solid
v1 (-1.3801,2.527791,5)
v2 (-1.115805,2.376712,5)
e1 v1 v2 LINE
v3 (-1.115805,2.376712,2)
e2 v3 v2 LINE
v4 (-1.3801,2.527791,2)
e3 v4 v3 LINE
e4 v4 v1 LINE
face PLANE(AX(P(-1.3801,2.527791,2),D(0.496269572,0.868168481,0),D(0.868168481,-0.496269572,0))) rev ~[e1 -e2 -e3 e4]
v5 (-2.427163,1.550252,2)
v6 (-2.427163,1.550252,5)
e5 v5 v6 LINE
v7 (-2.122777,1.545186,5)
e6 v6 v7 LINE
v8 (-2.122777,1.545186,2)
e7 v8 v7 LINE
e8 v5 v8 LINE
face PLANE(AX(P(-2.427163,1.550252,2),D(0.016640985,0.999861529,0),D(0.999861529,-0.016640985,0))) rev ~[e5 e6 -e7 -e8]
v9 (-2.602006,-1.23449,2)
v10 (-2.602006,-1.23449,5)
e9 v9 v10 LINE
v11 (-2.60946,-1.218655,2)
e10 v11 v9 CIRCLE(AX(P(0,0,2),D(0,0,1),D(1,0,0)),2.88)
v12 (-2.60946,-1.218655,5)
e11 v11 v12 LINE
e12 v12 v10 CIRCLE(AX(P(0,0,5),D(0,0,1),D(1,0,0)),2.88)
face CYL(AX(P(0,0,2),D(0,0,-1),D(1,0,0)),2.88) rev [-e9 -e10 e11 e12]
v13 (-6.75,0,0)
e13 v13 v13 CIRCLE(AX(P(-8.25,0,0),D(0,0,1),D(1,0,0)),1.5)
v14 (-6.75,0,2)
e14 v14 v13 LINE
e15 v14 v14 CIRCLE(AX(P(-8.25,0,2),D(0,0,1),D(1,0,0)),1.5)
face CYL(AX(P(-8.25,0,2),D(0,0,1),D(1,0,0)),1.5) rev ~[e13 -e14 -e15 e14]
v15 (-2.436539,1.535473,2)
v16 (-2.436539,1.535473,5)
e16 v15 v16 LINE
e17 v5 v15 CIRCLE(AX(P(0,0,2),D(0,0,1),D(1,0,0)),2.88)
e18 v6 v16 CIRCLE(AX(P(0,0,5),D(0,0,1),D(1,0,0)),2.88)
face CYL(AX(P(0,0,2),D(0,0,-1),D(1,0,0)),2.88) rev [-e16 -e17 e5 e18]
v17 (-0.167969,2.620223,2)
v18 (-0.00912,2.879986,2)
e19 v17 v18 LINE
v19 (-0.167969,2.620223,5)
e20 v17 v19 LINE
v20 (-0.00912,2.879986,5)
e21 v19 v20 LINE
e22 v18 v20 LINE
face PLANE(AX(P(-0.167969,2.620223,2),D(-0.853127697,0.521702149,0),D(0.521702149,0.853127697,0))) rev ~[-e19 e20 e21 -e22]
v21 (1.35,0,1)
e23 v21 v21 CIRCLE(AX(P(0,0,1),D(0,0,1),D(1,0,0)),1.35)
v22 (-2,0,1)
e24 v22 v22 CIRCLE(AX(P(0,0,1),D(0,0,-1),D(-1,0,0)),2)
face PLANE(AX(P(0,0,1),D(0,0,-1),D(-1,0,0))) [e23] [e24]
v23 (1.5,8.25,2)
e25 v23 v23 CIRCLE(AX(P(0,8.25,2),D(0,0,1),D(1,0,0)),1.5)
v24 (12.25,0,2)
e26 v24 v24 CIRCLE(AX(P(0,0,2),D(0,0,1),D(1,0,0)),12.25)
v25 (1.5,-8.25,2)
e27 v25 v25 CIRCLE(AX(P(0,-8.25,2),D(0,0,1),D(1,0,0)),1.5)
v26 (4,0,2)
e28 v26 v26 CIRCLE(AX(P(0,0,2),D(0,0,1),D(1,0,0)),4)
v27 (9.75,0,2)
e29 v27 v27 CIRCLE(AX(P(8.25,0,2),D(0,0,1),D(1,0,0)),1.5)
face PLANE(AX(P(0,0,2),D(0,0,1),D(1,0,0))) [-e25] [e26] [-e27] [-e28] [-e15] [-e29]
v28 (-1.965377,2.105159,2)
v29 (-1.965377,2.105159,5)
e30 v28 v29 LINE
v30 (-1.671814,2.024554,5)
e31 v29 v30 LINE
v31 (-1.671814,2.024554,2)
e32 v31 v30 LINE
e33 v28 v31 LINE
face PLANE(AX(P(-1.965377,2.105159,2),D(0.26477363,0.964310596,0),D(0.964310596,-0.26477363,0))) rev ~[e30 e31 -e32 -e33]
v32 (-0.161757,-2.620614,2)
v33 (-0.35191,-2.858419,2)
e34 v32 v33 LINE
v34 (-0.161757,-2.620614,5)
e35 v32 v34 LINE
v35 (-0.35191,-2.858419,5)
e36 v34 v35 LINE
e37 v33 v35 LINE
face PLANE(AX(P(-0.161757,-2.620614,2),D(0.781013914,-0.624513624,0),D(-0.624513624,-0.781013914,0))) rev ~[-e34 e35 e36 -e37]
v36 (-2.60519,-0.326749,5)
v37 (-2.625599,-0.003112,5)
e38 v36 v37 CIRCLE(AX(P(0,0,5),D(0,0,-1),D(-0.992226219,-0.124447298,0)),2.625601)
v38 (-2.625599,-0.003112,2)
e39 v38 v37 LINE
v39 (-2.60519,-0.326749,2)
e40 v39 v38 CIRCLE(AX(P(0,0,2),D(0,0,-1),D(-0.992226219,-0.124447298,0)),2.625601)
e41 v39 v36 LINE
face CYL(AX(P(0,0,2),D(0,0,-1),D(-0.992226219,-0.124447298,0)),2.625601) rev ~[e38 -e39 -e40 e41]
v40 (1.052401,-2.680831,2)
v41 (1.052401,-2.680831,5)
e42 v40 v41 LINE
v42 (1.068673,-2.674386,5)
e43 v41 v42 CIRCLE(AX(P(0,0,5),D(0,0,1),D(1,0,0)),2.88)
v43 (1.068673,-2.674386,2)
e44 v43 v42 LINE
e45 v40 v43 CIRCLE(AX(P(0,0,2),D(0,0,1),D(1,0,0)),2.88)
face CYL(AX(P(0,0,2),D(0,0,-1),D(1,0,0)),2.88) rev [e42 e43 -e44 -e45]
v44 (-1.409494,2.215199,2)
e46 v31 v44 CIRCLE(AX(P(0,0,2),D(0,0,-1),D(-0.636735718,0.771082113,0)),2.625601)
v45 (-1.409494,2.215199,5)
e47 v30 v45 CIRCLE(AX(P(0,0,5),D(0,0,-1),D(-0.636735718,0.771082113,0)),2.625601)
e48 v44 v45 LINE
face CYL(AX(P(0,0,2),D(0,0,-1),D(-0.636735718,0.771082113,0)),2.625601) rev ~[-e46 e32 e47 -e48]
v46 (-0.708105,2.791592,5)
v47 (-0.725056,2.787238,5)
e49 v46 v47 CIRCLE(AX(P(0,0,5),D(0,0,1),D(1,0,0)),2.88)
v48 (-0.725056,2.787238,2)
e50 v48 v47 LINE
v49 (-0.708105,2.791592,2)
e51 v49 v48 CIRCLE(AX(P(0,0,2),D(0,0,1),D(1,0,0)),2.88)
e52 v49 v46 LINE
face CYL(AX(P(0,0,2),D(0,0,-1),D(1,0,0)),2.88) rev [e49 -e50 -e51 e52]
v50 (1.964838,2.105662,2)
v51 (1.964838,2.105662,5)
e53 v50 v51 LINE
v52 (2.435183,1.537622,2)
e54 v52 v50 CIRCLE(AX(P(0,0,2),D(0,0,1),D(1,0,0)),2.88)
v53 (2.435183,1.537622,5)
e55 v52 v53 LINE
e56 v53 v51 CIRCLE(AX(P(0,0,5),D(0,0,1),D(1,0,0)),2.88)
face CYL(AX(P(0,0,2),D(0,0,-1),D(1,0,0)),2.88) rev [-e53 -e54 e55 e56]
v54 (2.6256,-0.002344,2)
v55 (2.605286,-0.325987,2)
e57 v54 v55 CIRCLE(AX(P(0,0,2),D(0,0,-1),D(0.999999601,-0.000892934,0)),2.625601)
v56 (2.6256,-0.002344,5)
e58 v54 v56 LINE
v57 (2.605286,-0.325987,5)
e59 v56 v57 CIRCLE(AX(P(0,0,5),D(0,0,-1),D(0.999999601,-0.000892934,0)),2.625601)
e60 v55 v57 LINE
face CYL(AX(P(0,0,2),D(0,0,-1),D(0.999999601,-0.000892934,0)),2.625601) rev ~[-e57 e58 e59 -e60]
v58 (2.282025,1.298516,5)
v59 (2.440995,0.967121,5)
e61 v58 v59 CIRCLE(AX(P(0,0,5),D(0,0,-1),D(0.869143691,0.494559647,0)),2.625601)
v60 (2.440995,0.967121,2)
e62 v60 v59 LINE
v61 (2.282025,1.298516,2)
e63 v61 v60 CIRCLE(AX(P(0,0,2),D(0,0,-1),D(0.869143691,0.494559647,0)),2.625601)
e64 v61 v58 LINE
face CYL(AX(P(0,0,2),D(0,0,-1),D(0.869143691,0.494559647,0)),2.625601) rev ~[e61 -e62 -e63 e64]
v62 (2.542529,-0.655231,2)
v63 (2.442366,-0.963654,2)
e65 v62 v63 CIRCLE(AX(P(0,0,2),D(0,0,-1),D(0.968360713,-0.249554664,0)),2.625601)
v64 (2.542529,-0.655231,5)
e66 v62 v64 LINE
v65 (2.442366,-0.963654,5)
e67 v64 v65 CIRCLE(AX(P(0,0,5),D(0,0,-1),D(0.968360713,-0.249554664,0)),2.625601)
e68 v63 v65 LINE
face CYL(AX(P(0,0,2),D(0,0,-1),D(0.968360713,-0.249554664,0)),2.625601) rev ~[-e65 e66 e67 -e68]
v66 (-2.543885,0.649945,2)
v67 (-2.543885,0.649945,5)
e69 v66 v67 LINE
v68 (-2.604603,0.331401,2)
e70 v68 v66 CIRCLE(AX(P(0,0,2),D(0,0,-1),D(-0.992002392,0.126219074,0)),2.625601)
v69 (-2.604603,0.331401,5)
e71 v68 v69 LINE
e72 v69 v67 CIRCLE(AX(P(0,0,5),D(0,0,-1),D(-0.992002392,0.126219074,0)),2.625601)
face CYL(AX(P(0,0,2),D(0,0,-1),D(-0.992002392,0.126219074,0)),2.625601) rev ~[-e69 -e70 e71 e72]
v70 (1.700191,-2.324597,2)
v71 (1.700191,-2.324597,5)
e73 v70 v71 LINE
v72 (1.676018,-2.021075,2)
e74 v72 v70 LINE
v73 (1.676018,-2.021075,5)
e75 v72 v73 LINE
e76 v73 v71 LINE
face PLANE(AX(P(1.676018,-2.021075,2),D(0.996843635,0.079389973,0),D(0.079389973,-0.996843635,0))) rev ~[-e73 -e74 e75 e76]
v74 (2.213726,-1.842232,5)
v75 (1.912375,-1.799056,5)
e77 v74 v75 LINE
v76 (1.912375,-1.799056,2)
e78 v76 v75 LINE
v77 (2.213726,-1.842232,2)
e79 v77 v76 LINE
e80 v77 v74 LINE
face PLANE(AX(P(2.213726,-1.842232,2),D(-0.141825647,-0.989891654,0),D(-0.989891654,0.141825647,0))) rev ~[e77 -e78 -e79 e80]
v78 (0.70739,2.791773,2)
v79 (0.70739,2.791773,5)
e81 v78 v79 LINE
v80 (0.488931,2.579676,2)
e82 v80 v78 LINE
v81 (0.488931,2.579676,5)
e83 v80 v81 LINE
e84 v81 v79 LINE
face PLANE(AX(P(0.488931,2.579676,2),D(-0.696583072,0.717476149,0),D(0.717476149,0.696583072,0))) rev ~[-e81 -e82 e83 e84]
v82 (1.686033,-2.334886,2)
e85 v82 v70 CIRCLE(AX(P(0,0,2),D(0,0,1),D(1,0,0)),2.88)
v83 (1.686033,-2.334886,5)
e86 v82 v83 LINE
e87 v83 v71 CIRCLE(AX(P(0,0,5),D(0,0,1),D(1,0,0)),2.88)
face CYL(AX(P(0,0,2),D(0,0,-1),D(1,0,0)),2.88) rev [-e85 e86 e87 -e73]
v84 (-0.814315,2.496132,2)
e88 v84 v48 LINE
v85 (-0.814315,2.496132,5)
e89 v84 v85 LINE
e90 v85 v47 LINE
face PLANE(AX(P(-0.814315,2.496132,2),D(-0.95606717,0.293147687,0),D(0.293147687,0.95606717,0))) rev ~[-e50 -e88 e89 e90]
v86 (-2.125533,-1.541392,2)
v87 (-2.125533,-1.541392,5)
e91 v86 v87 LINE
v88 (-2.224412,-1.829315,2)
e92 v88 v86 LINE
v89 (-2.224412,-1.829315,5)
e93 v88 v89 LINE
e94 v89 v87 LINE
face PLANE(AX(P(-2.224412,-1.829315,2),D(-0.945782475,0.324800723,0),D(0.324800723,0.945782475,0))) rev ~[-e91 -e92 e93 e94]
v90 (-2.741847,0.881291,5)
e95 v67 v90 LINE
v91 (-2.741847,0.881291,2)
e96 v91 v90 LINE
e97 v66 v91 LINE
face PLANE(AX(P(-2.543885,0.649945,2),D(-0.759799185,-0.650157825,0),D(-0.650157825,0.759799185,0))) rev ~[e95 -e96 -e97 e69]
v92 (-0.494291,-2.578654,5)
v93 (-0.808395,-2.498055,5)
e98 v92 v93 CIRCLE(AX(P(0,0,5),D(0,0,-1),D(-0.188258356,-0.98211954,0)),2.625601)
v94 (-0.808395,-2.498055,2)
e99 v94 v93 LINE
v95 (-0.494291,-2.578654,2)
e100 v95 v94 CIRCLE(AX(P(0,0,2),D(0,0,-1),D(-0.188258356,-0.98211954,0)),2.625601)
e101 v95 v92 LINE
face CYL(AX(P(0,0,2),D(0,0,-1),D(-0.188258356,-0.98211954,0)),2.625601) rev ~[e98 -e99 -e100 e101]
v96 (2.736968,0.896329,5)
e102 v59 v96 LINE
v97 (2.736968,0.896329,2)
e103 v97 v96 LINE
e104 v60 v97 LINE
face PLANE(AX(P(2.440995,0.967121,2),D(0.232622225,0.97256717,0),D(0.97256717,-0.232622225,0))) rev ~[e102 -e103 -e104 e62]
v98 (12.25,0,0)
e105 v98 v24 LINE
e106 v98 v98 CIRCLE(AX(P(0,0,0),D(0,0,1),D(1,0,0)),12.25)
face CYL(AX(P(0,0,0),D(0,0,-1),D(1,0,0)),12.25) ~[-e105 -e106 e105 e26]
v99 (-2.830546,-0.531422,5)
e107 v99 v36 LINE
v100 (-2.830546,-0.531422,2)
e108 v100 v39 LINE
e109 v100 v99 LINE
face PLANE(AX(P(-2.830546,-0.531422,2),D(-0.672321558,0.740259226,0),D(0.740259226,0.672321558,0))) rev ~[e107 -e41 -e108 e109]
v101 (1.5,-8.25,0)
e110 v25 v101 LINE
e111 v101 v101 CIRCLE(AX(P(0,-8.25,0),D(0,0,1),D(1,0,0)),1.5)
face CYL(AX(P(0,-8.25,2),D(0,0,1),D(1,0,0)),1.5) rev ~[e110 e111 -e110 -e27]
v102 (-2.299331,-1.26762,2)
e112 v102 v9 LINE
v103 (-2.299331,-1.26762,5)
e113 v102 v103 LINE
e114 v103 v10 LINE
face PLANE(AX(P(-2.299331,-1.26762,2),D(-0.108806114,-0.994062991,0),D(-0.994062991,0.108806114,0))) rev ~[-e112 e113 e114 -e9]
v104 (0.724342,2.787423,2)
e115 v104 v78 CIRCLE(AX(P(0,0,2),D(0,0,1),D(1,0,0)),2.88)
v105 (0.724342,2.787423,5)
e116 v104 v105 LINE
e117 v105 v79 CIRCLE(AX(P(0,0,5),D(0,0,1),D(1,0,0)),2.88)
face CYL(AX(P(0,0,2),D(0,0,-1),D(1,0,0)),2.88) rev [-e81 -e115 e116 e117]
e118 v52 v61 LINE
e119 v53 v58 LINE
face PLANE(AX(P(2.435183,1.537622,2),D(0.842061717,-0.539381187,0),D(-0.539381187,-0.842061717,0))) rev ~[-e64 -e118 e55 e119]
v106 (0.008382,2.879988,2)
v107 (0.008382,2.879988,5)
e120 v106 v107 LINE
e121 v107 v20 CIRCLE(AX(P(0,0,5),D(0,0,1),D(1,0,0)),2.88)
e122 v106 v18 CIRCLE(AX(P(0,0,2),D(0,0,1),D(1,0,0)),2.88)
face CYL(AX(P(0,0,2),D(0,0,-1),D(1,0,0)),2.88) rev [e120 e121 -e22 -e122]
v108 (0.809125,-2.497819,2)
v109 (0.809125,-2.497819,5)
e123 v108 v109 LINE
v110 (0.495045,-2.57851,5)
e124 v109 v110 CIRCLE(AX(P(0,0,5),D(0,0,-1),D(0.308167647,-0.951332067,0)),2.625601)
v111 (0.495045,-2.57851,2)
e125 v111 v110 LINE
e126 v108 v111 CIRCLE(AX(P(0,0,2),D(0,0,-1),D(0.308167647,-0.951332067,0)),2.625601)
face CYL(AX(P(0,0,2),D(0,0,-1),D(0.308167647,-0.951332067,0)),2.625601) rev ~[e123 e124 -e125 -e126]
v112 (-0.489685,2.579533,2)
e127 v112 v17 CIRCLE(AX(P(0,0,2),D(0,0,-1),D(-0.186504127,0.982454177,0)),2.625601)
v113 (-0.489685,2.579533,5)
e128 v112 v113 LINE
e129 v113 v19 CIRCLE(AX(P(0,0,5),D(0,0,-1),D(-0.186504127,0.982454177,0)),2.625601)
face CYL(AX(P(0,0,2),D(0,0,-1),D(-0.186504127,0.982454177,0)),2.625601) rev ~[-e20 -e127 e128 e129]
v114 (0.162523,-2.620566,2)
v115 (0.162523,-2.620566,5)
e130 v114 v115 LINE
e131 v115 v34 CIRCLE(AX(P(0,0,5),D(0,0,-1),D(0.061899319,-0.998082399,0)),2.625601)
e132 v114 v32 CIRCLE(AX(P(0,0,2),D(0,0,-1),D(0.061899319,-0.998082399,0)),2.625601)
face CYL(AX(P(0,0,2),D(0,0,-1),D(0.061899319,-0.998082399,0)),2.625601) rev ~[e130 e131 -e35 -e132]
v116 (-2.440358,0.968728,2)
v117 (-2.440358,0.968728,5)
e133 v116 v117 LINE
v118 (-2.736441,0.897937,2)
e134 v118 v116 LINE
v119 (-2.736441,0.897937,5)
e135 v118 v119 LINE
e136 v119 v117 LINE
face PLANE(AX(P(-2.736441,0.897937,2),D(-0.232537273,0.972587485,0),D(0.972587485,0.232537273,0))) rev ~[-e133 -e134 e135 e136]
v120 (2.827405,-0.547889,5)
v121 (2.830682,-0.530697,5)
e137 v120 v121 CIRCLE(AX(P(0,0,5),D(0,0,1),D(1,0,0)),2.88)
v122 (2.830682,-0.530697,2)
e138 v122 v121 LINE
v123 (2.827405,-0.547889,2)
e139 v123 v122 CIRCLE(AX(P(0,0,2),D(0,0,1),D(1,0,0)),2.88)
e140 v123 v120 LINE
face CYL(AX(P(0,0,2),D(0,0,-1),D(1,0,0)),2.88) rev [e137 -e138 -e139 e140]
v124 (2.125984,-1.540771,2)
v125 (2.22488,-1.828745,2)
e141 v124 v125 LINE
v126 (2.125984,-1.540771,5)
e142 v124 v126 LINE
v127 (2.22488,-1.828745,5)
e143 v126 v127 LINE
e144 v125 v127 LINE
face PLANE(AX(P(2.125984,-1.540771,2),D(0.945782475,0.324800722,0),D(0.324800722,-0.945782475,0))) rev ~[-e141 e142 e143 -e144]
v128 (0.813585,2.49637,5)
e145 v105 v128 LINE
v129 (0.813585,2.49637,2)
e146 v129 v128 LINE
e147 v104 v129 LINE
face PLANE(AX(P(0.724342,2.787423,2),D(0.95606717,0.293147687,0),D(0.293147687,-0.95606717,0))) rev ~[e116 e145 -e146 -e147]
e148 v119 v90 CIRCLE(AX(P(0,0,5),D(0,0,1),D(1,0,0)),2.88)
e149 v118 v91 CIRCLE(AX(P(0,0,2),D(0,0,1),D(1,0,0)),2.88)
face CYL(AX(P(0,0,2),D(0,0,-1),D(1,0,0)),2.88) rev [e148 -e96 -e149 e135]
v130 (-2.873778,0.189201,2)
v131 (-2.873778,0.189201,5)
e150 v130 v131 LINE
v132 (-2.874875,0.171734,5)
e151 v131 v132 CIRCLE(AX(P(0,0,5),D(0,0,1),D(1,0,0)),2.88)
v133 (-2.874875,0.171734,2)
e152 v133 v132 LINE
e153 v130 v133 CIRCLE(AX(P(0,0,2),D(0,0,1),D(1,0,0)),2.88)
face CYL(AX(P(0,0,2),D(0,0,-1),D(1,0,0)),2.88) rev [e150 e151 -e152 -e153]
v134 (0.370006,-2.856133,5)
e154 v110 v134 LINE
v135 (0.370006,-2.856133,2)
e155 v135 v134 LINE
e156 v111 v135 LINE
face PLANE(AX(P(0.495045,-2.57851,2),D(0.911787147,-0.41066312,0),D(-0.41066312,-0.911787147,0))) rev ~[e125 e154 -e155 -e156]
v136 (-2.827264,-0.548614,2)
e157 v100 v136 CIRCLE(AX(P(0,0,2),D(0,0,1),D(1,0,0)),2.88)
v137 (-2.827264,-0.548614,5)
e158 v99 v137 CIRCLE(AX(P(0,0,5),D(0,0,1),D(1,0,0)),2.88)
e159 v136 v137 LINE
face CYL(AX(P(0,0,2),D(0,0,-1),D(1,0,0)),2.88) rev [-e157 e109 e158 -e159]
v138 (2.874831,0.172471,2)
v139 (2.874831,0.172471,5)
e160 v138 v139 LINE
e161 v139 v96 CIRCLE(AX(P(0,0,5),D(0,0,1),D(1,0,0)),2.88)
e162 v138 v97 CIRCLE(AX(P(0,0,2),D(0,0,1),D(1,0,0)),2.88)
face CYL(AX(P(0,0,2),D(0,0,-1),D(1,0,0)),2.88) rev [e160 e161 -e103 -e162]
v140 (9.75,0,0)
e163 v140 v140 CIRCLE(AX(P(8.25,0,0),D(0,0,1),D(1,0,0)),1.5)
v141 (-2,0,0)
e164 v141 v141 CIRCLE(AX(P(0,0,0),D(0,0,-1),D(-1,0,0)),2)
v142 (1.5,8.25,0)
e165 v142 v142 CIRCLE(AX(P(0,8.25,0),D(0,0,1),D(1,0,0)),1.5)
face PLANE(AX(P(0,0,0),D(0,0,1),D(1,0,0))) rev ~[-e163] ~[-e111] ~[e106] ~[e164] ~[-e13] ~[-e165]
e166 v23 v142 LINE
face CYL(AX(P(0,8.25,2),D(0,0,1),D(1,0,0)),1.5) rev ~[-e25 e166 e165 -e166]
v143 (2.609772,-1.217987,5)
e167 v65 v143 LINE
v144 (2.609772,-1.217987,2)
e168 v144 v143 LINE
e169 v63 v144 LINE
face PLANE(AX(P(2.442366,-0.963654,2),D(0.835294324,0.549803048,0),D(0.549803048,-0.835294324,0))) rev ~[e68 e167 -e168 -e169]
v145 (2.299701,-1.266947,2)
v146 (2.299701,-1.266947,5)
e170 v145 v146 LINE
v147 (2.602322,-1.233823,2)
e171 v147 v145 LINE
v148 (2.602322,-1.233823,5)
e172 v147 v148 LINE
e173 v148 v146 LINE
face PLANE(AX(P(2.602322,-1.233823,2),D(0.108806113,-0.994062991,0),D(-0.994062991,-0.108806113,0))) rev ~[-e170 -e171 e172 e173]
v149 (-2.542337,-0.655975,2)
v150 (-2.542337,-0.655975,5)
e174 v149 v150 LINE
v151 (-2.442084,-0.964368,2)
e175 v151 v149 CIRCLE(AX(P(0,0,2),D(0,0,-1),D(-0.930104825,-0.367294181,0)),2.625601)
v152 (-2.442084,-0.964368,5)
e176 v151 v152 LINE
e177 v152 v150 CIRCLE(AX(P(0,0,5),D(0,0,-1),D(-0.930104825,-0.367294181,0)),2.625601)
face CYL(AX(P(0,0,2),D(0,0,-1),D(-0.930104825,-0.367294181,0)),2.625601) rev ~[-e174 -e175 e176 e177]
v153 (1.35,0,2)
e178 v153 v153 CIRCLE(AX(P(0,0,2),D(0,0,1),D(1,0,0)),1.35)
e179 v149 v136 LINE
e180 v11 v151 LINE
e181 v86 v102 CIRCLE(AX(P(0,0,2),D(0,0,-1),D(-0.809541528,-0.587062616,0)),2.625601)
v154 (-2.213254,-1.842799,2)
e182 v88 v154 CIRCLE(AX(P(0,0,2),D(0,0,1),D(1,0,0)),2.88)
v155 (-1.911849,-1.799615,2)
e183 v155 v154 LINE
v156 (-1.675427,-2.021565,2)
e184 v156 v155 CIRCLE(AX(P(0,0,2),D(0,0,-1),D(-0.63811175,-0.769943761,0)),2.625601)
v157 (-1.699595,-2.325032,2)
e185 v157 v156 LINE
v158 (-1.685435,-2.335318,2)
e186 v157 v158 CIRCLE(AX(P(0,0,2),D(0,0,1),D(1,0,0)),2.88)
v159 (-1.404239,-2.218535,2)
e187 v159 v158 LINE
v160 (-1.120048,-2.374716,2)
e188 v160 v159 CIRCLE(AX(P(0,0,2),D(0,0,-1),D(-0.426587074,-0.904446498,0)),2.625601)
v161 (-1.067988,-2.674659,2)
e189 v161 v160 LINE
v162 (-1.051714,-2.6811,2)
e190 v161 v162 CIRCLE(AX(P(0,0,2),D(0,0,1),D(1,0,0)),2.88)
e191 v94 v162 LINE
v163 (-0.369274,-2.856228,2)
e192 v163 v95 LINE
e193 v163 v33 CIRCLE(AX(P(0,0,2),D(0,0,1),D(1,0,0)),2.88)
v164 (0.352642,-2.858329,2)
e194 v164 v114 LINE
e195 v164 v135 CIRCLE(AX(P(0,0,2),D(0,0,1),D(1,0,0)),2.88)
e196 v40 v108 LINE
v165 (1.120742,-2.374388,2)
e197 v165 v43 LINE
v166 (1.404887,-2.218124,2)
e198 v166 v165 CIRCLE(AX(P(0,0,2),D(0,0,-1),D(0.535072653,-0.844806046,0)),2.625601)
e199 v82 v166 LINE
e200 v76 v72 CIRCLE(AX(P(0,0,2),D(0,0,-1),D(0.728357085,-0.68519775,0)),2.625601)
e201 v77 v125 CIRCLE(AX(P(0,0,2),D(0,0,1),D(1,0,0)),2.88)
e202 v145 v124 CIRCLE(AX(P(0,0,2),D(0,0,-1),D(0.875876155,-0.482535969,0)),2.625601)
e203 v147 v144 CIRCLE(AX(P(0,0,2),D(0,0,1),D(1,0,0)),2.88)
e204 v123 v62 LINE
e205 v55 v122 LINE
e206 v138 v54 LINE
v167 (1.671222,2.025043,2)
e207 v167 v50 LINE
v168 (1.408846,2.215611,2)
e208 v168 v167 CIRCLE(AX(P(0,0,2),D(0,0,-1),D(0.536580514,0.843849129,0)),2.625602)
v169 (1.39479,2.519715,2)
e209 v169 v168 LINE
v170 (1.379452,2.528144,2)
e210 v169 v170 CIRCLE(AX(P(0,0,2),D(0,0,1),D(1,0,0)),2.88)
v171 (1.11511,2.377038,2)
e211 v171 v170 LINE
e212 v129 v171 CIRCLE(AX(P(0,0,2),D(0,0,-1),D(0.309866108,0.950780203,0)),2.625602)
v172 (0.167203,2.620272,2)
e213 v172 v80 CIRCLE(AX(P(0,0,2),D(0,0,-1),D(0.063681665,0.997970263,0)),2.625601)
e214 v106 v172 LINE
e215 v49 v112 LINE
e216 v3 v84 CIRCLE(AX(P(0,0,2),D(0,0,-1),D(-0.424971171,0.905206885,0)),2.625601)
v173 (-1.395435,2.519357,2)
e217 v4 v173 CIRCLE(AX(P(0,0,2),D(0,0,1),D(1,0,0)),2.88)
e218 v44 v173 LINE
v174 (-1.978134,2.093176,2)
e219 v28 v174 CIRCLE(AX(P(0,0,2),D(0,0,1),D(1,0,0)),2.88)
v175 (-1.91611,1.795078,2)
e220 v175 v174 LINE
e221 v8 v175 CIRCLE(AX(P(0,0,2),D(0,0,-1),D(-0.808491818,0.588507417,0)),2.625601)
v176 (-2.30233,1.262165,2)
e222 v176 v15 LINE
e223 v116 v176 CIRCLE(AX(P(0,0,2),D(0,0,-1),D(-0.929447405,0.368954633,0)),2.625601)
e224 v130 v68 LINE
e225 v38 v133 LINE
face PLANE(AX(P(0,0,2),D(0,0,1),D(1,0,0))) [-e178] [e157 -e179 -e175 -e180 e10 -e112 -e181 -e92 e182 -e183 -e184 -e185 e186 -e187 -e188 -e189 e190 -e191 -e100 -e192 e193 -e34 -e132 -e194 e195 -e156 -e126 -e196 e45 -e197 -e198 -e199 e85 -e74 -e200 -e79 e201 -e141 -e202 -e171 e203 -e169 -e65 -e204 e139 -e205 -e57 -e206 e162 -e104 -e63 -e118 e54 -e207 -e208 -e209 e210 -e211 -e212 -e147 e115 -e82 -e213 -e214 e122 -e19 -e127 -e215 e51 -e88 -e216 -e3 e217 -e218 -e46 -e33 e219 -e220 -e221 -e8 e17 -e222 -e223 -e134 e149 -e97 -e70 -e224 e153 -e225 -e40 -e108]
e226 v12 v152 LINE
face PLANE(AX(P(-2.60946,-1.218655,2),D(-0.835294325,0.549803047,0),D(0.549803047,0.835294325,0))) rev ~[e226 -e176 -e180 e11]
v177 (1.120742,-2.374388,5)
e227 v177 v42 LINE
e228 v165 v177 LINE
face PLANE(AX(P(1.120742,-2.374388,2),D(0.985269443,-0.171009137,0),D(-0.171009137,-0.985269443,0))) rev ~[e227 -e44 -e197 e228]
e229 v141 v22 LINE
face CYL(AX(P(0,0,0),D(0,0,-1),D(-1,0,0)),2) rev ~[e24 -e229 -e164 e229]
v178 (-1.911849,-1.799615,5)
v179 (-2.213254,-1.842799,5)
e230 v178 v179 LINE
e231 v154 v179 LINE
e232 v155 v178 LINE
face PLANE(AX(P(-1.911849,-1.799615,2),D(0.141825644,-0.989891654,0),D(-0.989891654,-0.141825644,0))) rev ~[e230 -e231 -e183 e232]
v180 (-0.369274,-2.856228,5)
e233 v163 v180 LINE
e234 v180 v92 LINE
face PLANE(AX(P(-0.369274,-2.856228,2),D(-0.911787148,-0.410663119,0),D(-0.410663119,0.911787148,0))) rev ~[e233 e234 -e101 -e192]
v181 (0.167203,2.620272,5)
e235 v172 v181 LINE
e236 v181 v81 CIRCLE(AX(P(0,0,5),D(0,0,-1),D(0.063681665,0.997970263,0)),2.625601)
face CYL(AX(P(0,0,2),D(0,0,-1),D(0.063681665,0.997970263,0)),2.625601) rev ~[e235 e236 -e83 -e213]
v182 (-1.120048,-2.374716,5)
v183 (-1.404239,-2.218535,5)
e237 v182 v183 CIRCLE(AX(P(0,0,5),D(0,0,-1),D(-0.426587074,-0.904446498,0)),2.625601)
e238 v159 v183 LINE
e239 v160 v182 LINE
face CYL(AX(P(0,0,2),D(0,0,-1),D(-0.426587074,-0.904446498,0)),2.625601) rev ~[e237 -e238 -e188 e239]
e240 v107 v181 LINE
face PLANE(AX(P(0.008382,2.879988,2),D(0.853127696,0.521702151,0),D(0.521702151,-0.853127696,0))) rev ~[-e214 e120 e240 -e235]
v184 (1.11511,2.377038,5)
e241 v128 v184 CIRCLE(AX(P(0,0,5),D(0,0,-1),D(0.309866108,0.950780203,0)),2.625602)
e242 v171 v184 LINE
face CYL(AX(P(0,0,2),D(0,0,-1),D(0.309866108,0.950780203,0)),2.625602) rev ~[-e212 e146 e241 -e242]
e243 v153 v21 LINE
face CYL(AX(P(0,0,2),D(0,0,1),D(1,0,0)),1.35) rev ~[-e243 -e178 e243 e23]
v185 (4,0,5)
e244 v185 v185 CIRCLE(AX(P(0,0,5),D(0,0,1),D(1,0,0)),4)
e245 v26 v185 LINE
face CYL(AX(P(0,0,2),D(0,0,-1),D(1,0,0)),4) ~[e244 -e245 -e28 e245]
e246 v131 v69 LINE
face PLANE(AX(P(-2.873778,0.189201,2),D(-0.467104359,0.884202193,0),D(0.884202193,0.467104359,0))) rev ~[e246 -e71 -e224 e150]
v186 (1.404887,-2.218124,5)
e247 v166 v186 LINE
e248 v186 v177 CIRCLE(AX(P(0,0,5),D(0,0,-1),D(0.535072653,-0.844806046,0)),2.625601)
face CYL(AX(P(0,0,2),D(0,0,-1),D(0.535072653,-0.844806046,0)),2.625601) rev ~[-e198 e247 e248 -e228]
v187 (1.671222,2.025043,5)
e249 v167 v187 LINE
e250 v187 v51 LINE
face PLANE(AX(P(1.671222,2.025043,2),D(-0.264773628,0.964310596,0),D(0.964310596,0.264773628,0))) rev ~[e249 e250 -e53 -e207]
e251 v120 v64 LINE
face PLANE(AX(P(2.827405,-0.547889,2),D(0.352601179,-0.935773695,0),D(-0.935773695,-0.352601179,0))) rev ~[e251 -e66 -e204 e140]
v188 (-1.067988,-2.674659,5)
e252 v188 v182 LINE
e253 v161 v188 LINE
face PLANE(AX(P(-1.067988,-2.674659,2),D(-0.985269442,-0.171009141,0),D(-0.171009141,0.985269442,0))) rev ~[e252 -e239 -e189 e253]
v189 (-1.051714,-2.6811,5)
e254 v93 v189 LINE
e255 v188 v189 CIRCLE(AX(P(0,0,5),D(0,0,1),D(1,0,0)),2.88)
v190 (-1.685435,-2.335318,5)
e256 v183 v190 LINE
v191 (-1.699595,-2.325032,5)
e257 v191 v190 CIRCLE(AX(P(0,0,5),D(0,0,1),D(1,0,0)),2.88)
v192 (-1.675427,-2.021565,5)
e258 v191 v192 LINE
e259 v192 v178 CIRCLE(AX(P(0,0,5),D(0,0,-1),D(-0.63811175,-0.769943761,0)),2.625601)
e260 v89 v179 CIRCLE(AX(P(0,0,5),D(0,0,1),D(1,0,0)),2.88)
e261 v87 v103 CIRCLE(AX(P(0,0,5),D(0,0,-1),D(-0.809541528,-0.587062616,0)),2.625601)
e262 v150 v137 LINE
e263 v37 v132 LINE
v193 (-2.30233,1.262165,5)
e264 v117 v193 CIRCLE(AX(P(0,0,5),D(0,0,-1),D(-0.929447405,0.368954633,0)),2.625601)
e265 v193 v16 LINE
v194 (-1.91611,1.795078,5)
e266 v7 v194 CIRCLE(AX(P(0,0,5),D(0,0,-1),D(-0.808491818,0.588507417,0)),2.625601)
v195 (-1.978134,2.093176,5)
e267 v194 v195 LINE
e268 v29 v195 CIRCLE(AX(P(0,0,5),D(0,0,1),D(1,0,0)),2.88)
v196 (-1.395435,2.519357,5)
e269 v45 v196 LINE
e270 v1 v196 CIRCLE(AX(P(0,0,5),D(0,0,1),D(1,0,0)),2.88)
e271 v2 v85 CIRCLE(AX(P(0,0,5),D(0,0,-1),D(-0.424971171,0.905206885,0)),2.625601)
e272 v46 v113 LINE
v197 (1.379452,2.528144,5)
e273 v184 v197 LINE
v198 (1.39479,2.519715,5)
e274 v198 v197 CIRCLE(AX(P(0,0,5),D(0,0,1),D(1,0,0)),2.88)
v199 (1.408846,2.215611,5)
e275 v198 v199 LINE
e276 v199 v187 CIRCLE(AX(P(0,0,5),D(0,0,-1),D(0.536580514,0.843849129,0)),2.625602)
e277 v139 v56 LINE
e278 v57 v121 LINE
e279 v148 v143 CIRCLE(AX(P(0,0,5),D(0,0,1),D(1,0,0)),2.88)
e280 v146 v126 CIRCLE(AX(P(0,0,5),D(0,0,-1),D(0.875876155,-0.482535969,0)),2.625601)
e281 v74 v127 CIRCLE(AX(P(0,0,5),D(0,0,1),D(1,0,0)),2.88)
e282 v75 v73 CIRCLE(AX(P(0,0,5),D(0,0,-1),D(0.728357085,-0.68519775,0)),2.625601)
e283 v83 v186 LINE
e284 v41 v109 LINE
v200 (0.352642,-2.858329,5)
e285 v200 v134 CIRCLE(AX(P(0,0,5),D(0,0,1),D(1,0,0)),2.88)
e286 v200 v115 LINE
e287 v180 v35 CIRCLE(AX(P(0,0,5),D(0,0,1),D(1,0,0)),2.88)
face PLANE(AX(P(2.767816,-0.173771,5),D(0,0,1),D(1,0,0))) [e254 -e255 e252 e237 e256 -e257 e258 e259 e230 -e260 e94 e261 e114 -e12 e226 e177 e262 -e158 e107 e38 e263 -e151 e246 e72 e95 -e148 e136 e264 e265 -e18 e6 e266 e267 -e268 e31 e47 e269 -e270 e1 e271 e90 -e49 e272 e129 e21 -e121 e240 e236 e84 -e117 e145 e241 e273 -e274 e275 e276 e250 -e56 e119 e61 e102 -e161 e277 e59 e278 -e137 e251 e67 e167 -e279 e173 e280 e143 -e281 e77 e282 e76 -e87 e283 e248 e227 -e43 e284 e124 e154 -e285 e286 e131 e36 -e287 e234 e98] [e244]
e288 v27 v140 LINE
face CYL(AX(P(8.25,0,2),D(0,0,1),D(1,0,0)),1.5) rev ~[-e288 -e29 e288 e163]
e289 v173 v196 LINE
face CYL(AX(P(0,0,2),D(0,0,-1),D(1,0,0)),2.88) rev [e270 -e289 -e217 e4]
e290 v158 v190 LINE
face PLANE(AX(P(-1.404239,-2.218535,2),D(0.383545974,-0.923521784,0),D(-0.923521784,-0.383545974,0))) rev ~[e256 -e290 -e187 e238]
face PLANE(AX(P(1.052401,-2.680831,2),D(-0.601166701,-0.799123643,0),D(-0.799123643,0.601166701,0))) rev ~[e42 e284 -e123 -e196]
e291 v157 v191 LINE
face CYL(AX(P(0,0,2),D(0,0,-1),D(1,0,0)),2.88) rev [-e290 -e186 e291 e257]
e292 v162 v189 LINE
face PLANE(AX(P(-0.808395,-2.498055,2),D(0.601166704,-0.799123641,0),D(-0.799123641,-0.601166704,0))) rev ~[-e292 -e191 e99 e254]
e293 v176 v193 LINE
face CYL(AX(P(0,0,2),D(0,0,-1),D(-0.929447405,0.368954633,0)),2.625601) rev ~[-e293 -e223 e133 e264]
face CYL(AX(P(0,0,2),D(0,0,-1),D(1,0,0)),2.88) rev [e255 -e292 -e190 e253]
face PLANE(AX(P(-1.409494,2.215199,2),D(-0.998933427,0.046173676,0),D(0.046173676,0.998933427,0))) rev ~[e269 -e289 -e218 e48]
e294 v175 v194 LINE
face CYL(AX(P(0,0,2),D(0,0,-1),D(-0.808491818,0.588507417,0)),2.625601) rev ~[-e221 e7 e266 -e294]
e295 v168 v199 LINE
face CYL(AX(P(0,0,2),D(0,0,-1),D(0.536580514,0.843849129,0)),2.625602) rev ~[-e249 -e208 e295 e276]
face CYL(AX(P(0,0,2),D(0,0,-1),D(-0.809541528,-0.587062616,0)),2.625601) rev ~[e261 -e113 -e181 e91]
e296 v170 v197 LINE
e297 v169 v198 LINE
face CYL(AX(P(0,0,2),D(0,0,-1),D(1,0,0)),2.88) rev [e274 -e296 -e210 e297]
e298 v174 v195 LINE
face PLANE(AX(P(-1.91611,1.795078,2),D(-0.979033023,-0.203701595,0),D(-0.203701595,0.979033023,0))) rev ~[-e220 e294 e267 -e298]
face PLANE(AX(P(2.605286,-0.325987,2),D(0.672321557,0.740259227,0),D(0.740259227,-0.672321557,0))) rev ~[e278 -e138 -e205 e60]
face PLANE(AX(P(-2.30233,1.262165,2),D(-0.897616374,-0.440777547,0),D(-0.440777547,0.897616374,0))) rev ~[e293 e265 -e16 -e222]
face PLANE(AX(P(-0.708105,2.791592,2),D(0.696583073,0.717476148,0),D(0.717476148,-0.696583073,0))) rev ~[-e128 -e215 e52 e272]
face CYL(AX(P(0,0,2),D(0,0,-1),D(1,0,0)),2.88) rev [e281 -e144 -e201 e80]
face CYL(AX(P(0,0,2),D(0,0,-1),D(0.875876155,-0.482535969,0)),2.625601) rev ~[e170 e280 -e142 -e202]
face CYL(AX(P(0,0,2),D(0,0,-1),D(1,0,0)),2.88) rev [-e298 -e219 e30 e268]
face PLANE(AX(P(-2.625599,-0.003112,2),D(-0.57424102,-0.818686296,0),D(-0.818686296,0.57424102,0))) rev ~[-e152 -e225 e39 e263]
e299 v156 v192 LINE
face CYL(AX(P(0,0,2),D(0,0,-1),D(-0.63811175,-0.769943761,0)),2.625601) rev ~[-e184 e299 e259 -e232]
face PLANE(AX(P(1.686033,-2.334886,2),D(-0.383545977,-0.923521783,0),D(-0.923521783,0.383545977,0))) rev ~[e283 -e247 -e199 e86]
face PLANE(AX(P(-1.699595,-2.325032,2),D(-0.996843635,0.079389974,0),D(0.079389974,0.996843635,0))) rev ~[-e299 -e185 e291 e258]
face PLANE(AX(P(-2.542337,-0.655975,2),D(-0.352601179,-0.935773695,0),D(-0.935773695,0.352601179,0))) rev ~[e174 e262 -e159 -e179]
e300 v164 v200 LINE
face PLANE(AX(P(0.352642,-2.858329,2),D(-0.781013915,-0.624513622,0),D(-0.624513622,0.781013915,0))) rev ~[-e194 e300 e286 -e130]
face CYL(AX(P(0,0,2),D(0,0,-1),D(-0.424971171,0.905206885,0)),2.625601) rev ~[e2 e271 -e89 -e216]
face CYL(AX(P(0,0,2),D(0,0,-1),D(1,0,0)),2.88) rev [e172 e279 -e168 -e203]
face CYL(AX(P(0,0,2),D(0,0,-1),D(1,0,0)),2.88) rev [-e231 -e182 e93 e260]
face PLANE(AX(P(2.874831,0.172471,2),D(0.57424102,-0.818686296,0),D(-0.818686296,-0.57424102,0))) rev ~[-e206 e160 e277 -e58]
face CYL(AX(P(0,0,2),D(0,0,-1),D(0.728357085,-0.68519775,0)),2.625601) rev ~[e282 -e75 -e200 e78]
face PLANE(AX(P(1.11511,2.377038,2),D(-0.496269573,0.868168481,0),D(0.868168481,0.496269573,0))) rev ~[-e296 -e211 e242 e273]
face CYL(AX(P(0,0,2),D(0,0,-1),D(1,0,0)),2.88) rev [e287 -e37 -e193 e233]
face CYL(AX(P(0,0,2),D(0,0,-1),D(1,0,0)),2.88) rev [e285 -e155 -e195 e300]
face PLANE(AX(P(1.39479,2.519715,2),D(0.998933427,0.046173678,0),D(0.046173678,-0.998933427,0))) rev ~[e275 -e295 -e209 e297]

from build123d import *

# Parameters (mm, degrees)
SKETCH1_R           = 12.25
BOSS_EXTRUDE1_DEPTH = 2
SKETCH2_R           = 1.5
CUT_EXTRUDE1_DEPTH  = 2
SKETCH3_R           = 1.35
CUT_EXTRUDE2_DEPTH  = 4
SKETCH4_R           = 4
SKETCH4_R_2         = 2.88
BOSS_EXTRUDE2_DEPTH = 3
SKETCH6_R           = 2
CUT_EXTRUDE3_DEPTH  = 1
BOSS_EXTRUDE4_START = -3
BOSS_EXTRUDE4_DEPTH = 3


with BuildPart() as part:
    # Sketch1 → Boss-Extrude1 (new body)
    with BuildSketch(Plane.XY):
        Circle(SKETCH1_R)
    extrude(amount=BOSS_EXTRUDE1_DEPTH)

    # Sketch2 → Cut-Extrude1 (cut)
    with BuildSketch(Plane.XY.offset(2)):
        with Locations((-8.25, 0)):
            Circle(SKETCH2_R)
        with Locations((0, 8.25)):
            Circle(SKETCH2_R)
        with Locations((8.25, 0)):
            Circle(SKETCH2_R)
        with Locations((0, -8.25)):
            Circle(SKETCH2_R)
    extrude(amount=-CUT_EXTRUDE1_DEPTH, mode=Mode.SUBTRACT)

    # Sketch3 → Cut-Extrude2 (cut)
    with BuildSketch(Plane.XY.offset(2)):
        Circle(SKETCH3_R)
    extrude(amount=-CUT_EXTRUDE2_DEPTH, mode=Mode.SUBTRACT)

    # Sketch4 → Boss-Extrude2 (add)
    with BuildSketch(Plane.XY.offset(2)):
        Circle(SKETCH4_R)
        Circle(SKETCH4_R_2, mode=Mode.SUBTRACT)
    extrude(amount=BOSS_EXTRUDE2_DEPTH)

    # Sketch6 → Cut-Extrude3 (cut)
    with BuildSketch(Plane(origin=(0, 0, 0), x_dir=(-1, 0, 0), z_dir=(0, 0, -1))):
        Circle(SKETCH6_R)
    extrude(amount=-CUT_EXTRUDE3_DEPTH, mode=Mode.SUBTRACT)

    # Sketch5 → Boss-Extrude4 (add)
    with BuildSketch(Plane.XY.offset(5).offset(BOSS_EXTRUDE4_START)):
        with BuildLine():
            Line((-0.161756527, -2.620613729), (-0.351910166, -2.85841901))
            ThreePointArc((-0.351910166, -2.85841901), (0.000368858, -2.879999976), (0.352642342, -2.858328774))
            Line((0.352642342, -2.858328774), (0.162522941, -2.62056631))
            ThreePointArc((0.162522941, -2.62056631), (0.00038394, -2.625601139), (-0.161756527, -2.620613729))
        make_face()
        with BuildLine():
            ThreePointArc((-1.051714162, -2.681100021), (-0.715869599, -2.789611212), (-0.369274025, -2.856227703))
            Line((-0.369274025, -2.856227703), (-0.494291356, -2.578654212))
            ThreePointArc((-0.494291356, -2.578654212), (-0.652588574, -2.543208533), (-0.808394781, -2.498055117))
            Line((-0.808394781, -2.498055117), (-1.051714162, -2.681100021))
        make_face()
        with BuildLine():
            Line((0.495045485, -2.578509542), (0.37000564, -2.85613302))
            ThreePointArc((0.37000564, -2.85613302), (0.716584139, -2.78942775), (1.052400895, -2.680830535))
            Line((1.052400895, -2.680830535), (0.809125323, -2.497818589))
            ThreePointArc((0.809125323, -2.497818589), (0.653332329, -2.54301757), (0.495045485, -2.578509542))
        make_face()
        with BuildLine():
            ThreePointArc((-1.685435089, -2.335317657), (-1.387127337, -2.523940917), (-1.067987548, -2.674659342))
            Line((-1.067987548, -2.674659342), (-1.12004751, -2.374715787))
            ThreePointArc((-1.12004751, -2.374715787), (-1.264556547, -2.301016782), (-1.404238617, -2.218534516))
            Line((-1.404238617, -2.218534516), (-1.685435089, -2.335317657))
        make_face()
        with BuildLine():
            Line((1.120741967, -2.374388118), (1.068672631, -2.674385688))
            ThreePointArc((1.068672631, -2.674385688), (1.387773803, -2.523585519), (1.686033229, -2.334885854))
            Line((1.686033229, -2.334885854), (1.404887387, -2.218123739))
            ThreePointArc((1.404887387, -2.218123739), (1.265229445, -2.300646853), (1.120741967, -2.374388118))
        make_face()
        with BuildLine():
            ThreePointArc((-2.213253931, -1.842798696), (-1.971226763, -2.09968213), (-1.699595485, -2.325032298))
            Line((-1.699595485, -2.325032298), (-1.675426958, -2.021565235))
            ThreePointArc((-1.675426958, -2.021565235), (-1.797067781, -1.914243684), (-1.911848977, -1.799615231))
            Line((-1.911848977, -1.799615231), (-2.213253931, -1.842798696))
        make_face()
        with BuildLine():
            Line((1.676018111, -2.021075155), (1.70019099, -2.324596868))
            ThreePointArc((1.70019099, -2.324596868), (1.971764535, -2.099177129), (2.213725894, -1.842231708))
            Line((2.213725894, -1.842231708), (1.912375208, -1.799056017))
            ThreePointArc((1.912375208, -1.799056017), (1.797627541, -1.913718034), (1.676018111, -2.021075155))
        make_face()
        with BuildLine():
            ThreePointArc((-2.602005889, -1.234489916), (-2.431466761, -1.543492594), (-2.224411588, -1.829314923))
            Line((-2.224411588, -1.829314923), (-2.12553317, -1.541392304))
            ThreePointArc((-2.12553317, -1.541392304), (-2.216662638, -1.407191614), (-2.299330835, -1.267619503))
            Line((-2.299330835, -1.267619503), (-2.602005889, -1.234489916))
        make_face()
        with BuildLine():
            Line((2.125983872, -1.540770608), (2.224880096, -1.828745077))
            ThreePointArc((2.224880096, -1.828745077), (2.43186205, -1.54286972), (2.60232202, -1.233823368))
            Line((2.60232202, -1.233823368), (2.299701462, -1.26694699))
            ThreePointArc((2.299701462, -1.26694699), (2.217074088, -1.406543272), (2.125983872, -1.540770608))
        make_face()
        with BuildLine():
            ThreePointArc((-2.827264247, -0.548613595), (-2.738928761, -0.890319741), (-2.609459729, -1.218654964))
            Line((-2.609459729, -1.218654964), (-2.442084315, -0.964368026))
            ThreePointArc((-2.442084315, -0.964368026), (-2.496976429, -0.811720521), (-2.542337279, -0.655974579))
            Line((-2.542337279, -0.655974579), (-2.827264247, -0.548613595))
        make_face()
        with BuildLine():
            Line((2.442366248, -0.963653777), (2.609771804, -1.217986508))
            ThreePointArc((2.609771804, -1.217986508), (2.739156728, -0.889618132), (2.827404683, -0.547889369))
            Line((2.827404683, -0.547889369), (2.542529016, -0.655231023))
            ThreePointArc((2.542529016, -0.655231023), (2.497213717, -0.810990224), (2.442366248, -0.963653777))
        make_face()
        with BuildLine():
            ThreePointArc((-2.874875195, 0.171734137), (-2.874293794, -0.181204825), (-2.830545919, -0.531422432))
            Line((-2.830545919, -0.531422432), (-2.605190321, -0.326748959))
            ThreePointArc((-2.605190321, -0.326748959), (-2.620396008, -0.165246042), (-2.625599323, -0.00311236))
            Line((-2.625599323, -0.00311236), (-2.874875195, 0.171734137))
        make_face()
        with BuildLine():
            Line((2.60528577, -0.325987035), (2.830681951, -0.530697366))
            ThreePointArc((2.830681951, -0.530697366), (2.874340115, -0.180468565), (2.874831111, 0.172470535))
            Line((2.874831111, 0.172470535), (2.625600121, -0.002344481))
            ThreePointArc((2.625600121, -0.002344481), (2.620444223, -0.164479678), (2.60528577, -0.325987035))
        make_face()
        with BuildLine():
            ThreePointArc((-2.741847161, 0.881291181), (-2.829056376, 0.539295857), (-2.873778498, 0.189201326))
            Line((-2.873778498, 0.189201326), (-2.604602638, 0.331400948))
            ThreePointArc((-2.604602638, 0.331400948), (-2.579166468, 0.491611454), (-2.543885305, 0.64994542))
            Line((-2.543885305, 0.64994542), (-2.741847161, 0.881291181))
        make_face()
        with BuildLine():
            ThreePointArc((-2.436538786, 1.535473459), (-2.606058942, 1.225910597), (-2.736441006, 0.897936869))
            Line((-2.736441006, 0.897936869), (-2.440358193, 0.968727714))
            ThreePointArc((-2.440358193, 0.968727714), (-2.375878414, 1.117579194), (-2.302329617, 1.262164738))
            Line((-2.302329617, 1.262164738), (-2.436538786, 1.535473459))
        make_face()
        with BuildLine():
            ThreePointArc((-1.978133718, 2.093176293), (-2.21931324, 1.835496865), (-2.427162861, 1.550251736))
            Line((-2.427162861, 1.550251736), (-2.122777067, 1.545185755))
            ThreePointArc((-2.122777067, 1.545185755), (-2.023305181, 1.673325323), (-1.916110092, 1.795077605))
            Line((-1.916110092, 1.795077605), (-1.978133718, 2.093176293))
        make_face()
        with BuildLine():
            Line((2.440995413, 0.967120926), (2.73696806, 0.89632909))
            ThreePointArc((2.73696806, 0.89632909), (2.605878342, 1.226294446), (2.435183429, 1.537622082))
            Line((2.435183429, 1.537622082), (2.282024688, 1.298516389))
            ThreePointArc((2.282024688, 1.298516389), (2.367316087, 1.135603819), (2.440995413, 0.967120926))
        make_face()
        with BuildLine():
            ThreePointArc((-1.395435234, 2.519357162), (-1.693119925, 2.329752115), (-1.965377147, 2.105158585))
            Line((-1.965377147, 2.105158585), (-1.671814051, 2.024554092))
            ThreePointArc((-1.671814051, 2.024554092), (-1.543600242, 2.123930268), (-1.409494323, 2.215199143))
            Line((-1.409494323, 2.215199143), (-1.395435234, 2.519357162))
        make_face()
        with BuildLine():
            ThreePointArc((-0.725056422, 2.787237554), (-1.060541659, 2.677620472), (-1.380099559, 2.527790578))
            Line((-1.380099559, 2.527790578), (-1.115804809, 2.37671225))
            ThreePointArc((-1.115804809, 2.37671225), (-0.966905223, 2.441080863), (-0.814314842, 2.496131573))
            Line((-0.814314842, 2.496131573), (-0.725056422, 2.787237554))
        make_face()
        with BuildLine():
            ThreePointArc((-0.009119648, 2.879985561), (-0.361325659, 2.857244086), (-0.70810524, 2.791592192))
            Line((-0.70810524, 2.791592192), (-0.489685448, 2.579532836))
            ThreePointArc((-0.489685448, 2.579532836), (-0.329455993, 2.60484937), (-0.167968964, 2.620222876))
            Line((-0.167968964, 2.620222876), (-0.009119648, 2.879985561))
        make_face()
        with BuildLine():
            Line((1.671221881, 2.025042942), (1.964837844, 2.10566195))
            ThreePointArc((1.964837844, 2.10566195), (1.6925231, 2.330185734), (1.394789851, 2.519714522))
            Line((1.394789851, 2.519714522), (1.408846409, 2.215611267))
            ThreePointArc((1.408846409, 2.215611267), (1.542979014, 2.124381616), (1.671221881, 2.025042942))
        make_face()
        with BuildLine():
            ThreePointArc((0.707390147, 2.791773483), (0.36059376, 2.857336547), (0.008381935, 2.879987803))
            Line((0.008381935, 2.879987803), (0.167202651, 2.620271888))
            ThreePointArc((0.167202651, 2.620271888), (0.328694169, 2.604945611), (0.488931021, 2.579675939))
            Line((0.488931021, 2.579675939), (0.707390147, 2.791773483))
        make_face()
        with BuildLine():
            Line((1.115109672, 2.377038475), (1.379452017, 2.52814401))
            ThreePointArc((1.379452017, 2.52814401), (1.059855747, 2.677892043), (0.724342443, 2.787423187))
            Line((0.724342443, 2.787423187), (0.813584792, 2.49636962))
            ThreePointArc((0.813584792, 2.49636962), (0.966191267, 2.441363538), (1.115109672, 2.377038475))
        make_face()
    extrude(amount=BOSS_EXTRUDE4_DEPTH)


solid = part.part
